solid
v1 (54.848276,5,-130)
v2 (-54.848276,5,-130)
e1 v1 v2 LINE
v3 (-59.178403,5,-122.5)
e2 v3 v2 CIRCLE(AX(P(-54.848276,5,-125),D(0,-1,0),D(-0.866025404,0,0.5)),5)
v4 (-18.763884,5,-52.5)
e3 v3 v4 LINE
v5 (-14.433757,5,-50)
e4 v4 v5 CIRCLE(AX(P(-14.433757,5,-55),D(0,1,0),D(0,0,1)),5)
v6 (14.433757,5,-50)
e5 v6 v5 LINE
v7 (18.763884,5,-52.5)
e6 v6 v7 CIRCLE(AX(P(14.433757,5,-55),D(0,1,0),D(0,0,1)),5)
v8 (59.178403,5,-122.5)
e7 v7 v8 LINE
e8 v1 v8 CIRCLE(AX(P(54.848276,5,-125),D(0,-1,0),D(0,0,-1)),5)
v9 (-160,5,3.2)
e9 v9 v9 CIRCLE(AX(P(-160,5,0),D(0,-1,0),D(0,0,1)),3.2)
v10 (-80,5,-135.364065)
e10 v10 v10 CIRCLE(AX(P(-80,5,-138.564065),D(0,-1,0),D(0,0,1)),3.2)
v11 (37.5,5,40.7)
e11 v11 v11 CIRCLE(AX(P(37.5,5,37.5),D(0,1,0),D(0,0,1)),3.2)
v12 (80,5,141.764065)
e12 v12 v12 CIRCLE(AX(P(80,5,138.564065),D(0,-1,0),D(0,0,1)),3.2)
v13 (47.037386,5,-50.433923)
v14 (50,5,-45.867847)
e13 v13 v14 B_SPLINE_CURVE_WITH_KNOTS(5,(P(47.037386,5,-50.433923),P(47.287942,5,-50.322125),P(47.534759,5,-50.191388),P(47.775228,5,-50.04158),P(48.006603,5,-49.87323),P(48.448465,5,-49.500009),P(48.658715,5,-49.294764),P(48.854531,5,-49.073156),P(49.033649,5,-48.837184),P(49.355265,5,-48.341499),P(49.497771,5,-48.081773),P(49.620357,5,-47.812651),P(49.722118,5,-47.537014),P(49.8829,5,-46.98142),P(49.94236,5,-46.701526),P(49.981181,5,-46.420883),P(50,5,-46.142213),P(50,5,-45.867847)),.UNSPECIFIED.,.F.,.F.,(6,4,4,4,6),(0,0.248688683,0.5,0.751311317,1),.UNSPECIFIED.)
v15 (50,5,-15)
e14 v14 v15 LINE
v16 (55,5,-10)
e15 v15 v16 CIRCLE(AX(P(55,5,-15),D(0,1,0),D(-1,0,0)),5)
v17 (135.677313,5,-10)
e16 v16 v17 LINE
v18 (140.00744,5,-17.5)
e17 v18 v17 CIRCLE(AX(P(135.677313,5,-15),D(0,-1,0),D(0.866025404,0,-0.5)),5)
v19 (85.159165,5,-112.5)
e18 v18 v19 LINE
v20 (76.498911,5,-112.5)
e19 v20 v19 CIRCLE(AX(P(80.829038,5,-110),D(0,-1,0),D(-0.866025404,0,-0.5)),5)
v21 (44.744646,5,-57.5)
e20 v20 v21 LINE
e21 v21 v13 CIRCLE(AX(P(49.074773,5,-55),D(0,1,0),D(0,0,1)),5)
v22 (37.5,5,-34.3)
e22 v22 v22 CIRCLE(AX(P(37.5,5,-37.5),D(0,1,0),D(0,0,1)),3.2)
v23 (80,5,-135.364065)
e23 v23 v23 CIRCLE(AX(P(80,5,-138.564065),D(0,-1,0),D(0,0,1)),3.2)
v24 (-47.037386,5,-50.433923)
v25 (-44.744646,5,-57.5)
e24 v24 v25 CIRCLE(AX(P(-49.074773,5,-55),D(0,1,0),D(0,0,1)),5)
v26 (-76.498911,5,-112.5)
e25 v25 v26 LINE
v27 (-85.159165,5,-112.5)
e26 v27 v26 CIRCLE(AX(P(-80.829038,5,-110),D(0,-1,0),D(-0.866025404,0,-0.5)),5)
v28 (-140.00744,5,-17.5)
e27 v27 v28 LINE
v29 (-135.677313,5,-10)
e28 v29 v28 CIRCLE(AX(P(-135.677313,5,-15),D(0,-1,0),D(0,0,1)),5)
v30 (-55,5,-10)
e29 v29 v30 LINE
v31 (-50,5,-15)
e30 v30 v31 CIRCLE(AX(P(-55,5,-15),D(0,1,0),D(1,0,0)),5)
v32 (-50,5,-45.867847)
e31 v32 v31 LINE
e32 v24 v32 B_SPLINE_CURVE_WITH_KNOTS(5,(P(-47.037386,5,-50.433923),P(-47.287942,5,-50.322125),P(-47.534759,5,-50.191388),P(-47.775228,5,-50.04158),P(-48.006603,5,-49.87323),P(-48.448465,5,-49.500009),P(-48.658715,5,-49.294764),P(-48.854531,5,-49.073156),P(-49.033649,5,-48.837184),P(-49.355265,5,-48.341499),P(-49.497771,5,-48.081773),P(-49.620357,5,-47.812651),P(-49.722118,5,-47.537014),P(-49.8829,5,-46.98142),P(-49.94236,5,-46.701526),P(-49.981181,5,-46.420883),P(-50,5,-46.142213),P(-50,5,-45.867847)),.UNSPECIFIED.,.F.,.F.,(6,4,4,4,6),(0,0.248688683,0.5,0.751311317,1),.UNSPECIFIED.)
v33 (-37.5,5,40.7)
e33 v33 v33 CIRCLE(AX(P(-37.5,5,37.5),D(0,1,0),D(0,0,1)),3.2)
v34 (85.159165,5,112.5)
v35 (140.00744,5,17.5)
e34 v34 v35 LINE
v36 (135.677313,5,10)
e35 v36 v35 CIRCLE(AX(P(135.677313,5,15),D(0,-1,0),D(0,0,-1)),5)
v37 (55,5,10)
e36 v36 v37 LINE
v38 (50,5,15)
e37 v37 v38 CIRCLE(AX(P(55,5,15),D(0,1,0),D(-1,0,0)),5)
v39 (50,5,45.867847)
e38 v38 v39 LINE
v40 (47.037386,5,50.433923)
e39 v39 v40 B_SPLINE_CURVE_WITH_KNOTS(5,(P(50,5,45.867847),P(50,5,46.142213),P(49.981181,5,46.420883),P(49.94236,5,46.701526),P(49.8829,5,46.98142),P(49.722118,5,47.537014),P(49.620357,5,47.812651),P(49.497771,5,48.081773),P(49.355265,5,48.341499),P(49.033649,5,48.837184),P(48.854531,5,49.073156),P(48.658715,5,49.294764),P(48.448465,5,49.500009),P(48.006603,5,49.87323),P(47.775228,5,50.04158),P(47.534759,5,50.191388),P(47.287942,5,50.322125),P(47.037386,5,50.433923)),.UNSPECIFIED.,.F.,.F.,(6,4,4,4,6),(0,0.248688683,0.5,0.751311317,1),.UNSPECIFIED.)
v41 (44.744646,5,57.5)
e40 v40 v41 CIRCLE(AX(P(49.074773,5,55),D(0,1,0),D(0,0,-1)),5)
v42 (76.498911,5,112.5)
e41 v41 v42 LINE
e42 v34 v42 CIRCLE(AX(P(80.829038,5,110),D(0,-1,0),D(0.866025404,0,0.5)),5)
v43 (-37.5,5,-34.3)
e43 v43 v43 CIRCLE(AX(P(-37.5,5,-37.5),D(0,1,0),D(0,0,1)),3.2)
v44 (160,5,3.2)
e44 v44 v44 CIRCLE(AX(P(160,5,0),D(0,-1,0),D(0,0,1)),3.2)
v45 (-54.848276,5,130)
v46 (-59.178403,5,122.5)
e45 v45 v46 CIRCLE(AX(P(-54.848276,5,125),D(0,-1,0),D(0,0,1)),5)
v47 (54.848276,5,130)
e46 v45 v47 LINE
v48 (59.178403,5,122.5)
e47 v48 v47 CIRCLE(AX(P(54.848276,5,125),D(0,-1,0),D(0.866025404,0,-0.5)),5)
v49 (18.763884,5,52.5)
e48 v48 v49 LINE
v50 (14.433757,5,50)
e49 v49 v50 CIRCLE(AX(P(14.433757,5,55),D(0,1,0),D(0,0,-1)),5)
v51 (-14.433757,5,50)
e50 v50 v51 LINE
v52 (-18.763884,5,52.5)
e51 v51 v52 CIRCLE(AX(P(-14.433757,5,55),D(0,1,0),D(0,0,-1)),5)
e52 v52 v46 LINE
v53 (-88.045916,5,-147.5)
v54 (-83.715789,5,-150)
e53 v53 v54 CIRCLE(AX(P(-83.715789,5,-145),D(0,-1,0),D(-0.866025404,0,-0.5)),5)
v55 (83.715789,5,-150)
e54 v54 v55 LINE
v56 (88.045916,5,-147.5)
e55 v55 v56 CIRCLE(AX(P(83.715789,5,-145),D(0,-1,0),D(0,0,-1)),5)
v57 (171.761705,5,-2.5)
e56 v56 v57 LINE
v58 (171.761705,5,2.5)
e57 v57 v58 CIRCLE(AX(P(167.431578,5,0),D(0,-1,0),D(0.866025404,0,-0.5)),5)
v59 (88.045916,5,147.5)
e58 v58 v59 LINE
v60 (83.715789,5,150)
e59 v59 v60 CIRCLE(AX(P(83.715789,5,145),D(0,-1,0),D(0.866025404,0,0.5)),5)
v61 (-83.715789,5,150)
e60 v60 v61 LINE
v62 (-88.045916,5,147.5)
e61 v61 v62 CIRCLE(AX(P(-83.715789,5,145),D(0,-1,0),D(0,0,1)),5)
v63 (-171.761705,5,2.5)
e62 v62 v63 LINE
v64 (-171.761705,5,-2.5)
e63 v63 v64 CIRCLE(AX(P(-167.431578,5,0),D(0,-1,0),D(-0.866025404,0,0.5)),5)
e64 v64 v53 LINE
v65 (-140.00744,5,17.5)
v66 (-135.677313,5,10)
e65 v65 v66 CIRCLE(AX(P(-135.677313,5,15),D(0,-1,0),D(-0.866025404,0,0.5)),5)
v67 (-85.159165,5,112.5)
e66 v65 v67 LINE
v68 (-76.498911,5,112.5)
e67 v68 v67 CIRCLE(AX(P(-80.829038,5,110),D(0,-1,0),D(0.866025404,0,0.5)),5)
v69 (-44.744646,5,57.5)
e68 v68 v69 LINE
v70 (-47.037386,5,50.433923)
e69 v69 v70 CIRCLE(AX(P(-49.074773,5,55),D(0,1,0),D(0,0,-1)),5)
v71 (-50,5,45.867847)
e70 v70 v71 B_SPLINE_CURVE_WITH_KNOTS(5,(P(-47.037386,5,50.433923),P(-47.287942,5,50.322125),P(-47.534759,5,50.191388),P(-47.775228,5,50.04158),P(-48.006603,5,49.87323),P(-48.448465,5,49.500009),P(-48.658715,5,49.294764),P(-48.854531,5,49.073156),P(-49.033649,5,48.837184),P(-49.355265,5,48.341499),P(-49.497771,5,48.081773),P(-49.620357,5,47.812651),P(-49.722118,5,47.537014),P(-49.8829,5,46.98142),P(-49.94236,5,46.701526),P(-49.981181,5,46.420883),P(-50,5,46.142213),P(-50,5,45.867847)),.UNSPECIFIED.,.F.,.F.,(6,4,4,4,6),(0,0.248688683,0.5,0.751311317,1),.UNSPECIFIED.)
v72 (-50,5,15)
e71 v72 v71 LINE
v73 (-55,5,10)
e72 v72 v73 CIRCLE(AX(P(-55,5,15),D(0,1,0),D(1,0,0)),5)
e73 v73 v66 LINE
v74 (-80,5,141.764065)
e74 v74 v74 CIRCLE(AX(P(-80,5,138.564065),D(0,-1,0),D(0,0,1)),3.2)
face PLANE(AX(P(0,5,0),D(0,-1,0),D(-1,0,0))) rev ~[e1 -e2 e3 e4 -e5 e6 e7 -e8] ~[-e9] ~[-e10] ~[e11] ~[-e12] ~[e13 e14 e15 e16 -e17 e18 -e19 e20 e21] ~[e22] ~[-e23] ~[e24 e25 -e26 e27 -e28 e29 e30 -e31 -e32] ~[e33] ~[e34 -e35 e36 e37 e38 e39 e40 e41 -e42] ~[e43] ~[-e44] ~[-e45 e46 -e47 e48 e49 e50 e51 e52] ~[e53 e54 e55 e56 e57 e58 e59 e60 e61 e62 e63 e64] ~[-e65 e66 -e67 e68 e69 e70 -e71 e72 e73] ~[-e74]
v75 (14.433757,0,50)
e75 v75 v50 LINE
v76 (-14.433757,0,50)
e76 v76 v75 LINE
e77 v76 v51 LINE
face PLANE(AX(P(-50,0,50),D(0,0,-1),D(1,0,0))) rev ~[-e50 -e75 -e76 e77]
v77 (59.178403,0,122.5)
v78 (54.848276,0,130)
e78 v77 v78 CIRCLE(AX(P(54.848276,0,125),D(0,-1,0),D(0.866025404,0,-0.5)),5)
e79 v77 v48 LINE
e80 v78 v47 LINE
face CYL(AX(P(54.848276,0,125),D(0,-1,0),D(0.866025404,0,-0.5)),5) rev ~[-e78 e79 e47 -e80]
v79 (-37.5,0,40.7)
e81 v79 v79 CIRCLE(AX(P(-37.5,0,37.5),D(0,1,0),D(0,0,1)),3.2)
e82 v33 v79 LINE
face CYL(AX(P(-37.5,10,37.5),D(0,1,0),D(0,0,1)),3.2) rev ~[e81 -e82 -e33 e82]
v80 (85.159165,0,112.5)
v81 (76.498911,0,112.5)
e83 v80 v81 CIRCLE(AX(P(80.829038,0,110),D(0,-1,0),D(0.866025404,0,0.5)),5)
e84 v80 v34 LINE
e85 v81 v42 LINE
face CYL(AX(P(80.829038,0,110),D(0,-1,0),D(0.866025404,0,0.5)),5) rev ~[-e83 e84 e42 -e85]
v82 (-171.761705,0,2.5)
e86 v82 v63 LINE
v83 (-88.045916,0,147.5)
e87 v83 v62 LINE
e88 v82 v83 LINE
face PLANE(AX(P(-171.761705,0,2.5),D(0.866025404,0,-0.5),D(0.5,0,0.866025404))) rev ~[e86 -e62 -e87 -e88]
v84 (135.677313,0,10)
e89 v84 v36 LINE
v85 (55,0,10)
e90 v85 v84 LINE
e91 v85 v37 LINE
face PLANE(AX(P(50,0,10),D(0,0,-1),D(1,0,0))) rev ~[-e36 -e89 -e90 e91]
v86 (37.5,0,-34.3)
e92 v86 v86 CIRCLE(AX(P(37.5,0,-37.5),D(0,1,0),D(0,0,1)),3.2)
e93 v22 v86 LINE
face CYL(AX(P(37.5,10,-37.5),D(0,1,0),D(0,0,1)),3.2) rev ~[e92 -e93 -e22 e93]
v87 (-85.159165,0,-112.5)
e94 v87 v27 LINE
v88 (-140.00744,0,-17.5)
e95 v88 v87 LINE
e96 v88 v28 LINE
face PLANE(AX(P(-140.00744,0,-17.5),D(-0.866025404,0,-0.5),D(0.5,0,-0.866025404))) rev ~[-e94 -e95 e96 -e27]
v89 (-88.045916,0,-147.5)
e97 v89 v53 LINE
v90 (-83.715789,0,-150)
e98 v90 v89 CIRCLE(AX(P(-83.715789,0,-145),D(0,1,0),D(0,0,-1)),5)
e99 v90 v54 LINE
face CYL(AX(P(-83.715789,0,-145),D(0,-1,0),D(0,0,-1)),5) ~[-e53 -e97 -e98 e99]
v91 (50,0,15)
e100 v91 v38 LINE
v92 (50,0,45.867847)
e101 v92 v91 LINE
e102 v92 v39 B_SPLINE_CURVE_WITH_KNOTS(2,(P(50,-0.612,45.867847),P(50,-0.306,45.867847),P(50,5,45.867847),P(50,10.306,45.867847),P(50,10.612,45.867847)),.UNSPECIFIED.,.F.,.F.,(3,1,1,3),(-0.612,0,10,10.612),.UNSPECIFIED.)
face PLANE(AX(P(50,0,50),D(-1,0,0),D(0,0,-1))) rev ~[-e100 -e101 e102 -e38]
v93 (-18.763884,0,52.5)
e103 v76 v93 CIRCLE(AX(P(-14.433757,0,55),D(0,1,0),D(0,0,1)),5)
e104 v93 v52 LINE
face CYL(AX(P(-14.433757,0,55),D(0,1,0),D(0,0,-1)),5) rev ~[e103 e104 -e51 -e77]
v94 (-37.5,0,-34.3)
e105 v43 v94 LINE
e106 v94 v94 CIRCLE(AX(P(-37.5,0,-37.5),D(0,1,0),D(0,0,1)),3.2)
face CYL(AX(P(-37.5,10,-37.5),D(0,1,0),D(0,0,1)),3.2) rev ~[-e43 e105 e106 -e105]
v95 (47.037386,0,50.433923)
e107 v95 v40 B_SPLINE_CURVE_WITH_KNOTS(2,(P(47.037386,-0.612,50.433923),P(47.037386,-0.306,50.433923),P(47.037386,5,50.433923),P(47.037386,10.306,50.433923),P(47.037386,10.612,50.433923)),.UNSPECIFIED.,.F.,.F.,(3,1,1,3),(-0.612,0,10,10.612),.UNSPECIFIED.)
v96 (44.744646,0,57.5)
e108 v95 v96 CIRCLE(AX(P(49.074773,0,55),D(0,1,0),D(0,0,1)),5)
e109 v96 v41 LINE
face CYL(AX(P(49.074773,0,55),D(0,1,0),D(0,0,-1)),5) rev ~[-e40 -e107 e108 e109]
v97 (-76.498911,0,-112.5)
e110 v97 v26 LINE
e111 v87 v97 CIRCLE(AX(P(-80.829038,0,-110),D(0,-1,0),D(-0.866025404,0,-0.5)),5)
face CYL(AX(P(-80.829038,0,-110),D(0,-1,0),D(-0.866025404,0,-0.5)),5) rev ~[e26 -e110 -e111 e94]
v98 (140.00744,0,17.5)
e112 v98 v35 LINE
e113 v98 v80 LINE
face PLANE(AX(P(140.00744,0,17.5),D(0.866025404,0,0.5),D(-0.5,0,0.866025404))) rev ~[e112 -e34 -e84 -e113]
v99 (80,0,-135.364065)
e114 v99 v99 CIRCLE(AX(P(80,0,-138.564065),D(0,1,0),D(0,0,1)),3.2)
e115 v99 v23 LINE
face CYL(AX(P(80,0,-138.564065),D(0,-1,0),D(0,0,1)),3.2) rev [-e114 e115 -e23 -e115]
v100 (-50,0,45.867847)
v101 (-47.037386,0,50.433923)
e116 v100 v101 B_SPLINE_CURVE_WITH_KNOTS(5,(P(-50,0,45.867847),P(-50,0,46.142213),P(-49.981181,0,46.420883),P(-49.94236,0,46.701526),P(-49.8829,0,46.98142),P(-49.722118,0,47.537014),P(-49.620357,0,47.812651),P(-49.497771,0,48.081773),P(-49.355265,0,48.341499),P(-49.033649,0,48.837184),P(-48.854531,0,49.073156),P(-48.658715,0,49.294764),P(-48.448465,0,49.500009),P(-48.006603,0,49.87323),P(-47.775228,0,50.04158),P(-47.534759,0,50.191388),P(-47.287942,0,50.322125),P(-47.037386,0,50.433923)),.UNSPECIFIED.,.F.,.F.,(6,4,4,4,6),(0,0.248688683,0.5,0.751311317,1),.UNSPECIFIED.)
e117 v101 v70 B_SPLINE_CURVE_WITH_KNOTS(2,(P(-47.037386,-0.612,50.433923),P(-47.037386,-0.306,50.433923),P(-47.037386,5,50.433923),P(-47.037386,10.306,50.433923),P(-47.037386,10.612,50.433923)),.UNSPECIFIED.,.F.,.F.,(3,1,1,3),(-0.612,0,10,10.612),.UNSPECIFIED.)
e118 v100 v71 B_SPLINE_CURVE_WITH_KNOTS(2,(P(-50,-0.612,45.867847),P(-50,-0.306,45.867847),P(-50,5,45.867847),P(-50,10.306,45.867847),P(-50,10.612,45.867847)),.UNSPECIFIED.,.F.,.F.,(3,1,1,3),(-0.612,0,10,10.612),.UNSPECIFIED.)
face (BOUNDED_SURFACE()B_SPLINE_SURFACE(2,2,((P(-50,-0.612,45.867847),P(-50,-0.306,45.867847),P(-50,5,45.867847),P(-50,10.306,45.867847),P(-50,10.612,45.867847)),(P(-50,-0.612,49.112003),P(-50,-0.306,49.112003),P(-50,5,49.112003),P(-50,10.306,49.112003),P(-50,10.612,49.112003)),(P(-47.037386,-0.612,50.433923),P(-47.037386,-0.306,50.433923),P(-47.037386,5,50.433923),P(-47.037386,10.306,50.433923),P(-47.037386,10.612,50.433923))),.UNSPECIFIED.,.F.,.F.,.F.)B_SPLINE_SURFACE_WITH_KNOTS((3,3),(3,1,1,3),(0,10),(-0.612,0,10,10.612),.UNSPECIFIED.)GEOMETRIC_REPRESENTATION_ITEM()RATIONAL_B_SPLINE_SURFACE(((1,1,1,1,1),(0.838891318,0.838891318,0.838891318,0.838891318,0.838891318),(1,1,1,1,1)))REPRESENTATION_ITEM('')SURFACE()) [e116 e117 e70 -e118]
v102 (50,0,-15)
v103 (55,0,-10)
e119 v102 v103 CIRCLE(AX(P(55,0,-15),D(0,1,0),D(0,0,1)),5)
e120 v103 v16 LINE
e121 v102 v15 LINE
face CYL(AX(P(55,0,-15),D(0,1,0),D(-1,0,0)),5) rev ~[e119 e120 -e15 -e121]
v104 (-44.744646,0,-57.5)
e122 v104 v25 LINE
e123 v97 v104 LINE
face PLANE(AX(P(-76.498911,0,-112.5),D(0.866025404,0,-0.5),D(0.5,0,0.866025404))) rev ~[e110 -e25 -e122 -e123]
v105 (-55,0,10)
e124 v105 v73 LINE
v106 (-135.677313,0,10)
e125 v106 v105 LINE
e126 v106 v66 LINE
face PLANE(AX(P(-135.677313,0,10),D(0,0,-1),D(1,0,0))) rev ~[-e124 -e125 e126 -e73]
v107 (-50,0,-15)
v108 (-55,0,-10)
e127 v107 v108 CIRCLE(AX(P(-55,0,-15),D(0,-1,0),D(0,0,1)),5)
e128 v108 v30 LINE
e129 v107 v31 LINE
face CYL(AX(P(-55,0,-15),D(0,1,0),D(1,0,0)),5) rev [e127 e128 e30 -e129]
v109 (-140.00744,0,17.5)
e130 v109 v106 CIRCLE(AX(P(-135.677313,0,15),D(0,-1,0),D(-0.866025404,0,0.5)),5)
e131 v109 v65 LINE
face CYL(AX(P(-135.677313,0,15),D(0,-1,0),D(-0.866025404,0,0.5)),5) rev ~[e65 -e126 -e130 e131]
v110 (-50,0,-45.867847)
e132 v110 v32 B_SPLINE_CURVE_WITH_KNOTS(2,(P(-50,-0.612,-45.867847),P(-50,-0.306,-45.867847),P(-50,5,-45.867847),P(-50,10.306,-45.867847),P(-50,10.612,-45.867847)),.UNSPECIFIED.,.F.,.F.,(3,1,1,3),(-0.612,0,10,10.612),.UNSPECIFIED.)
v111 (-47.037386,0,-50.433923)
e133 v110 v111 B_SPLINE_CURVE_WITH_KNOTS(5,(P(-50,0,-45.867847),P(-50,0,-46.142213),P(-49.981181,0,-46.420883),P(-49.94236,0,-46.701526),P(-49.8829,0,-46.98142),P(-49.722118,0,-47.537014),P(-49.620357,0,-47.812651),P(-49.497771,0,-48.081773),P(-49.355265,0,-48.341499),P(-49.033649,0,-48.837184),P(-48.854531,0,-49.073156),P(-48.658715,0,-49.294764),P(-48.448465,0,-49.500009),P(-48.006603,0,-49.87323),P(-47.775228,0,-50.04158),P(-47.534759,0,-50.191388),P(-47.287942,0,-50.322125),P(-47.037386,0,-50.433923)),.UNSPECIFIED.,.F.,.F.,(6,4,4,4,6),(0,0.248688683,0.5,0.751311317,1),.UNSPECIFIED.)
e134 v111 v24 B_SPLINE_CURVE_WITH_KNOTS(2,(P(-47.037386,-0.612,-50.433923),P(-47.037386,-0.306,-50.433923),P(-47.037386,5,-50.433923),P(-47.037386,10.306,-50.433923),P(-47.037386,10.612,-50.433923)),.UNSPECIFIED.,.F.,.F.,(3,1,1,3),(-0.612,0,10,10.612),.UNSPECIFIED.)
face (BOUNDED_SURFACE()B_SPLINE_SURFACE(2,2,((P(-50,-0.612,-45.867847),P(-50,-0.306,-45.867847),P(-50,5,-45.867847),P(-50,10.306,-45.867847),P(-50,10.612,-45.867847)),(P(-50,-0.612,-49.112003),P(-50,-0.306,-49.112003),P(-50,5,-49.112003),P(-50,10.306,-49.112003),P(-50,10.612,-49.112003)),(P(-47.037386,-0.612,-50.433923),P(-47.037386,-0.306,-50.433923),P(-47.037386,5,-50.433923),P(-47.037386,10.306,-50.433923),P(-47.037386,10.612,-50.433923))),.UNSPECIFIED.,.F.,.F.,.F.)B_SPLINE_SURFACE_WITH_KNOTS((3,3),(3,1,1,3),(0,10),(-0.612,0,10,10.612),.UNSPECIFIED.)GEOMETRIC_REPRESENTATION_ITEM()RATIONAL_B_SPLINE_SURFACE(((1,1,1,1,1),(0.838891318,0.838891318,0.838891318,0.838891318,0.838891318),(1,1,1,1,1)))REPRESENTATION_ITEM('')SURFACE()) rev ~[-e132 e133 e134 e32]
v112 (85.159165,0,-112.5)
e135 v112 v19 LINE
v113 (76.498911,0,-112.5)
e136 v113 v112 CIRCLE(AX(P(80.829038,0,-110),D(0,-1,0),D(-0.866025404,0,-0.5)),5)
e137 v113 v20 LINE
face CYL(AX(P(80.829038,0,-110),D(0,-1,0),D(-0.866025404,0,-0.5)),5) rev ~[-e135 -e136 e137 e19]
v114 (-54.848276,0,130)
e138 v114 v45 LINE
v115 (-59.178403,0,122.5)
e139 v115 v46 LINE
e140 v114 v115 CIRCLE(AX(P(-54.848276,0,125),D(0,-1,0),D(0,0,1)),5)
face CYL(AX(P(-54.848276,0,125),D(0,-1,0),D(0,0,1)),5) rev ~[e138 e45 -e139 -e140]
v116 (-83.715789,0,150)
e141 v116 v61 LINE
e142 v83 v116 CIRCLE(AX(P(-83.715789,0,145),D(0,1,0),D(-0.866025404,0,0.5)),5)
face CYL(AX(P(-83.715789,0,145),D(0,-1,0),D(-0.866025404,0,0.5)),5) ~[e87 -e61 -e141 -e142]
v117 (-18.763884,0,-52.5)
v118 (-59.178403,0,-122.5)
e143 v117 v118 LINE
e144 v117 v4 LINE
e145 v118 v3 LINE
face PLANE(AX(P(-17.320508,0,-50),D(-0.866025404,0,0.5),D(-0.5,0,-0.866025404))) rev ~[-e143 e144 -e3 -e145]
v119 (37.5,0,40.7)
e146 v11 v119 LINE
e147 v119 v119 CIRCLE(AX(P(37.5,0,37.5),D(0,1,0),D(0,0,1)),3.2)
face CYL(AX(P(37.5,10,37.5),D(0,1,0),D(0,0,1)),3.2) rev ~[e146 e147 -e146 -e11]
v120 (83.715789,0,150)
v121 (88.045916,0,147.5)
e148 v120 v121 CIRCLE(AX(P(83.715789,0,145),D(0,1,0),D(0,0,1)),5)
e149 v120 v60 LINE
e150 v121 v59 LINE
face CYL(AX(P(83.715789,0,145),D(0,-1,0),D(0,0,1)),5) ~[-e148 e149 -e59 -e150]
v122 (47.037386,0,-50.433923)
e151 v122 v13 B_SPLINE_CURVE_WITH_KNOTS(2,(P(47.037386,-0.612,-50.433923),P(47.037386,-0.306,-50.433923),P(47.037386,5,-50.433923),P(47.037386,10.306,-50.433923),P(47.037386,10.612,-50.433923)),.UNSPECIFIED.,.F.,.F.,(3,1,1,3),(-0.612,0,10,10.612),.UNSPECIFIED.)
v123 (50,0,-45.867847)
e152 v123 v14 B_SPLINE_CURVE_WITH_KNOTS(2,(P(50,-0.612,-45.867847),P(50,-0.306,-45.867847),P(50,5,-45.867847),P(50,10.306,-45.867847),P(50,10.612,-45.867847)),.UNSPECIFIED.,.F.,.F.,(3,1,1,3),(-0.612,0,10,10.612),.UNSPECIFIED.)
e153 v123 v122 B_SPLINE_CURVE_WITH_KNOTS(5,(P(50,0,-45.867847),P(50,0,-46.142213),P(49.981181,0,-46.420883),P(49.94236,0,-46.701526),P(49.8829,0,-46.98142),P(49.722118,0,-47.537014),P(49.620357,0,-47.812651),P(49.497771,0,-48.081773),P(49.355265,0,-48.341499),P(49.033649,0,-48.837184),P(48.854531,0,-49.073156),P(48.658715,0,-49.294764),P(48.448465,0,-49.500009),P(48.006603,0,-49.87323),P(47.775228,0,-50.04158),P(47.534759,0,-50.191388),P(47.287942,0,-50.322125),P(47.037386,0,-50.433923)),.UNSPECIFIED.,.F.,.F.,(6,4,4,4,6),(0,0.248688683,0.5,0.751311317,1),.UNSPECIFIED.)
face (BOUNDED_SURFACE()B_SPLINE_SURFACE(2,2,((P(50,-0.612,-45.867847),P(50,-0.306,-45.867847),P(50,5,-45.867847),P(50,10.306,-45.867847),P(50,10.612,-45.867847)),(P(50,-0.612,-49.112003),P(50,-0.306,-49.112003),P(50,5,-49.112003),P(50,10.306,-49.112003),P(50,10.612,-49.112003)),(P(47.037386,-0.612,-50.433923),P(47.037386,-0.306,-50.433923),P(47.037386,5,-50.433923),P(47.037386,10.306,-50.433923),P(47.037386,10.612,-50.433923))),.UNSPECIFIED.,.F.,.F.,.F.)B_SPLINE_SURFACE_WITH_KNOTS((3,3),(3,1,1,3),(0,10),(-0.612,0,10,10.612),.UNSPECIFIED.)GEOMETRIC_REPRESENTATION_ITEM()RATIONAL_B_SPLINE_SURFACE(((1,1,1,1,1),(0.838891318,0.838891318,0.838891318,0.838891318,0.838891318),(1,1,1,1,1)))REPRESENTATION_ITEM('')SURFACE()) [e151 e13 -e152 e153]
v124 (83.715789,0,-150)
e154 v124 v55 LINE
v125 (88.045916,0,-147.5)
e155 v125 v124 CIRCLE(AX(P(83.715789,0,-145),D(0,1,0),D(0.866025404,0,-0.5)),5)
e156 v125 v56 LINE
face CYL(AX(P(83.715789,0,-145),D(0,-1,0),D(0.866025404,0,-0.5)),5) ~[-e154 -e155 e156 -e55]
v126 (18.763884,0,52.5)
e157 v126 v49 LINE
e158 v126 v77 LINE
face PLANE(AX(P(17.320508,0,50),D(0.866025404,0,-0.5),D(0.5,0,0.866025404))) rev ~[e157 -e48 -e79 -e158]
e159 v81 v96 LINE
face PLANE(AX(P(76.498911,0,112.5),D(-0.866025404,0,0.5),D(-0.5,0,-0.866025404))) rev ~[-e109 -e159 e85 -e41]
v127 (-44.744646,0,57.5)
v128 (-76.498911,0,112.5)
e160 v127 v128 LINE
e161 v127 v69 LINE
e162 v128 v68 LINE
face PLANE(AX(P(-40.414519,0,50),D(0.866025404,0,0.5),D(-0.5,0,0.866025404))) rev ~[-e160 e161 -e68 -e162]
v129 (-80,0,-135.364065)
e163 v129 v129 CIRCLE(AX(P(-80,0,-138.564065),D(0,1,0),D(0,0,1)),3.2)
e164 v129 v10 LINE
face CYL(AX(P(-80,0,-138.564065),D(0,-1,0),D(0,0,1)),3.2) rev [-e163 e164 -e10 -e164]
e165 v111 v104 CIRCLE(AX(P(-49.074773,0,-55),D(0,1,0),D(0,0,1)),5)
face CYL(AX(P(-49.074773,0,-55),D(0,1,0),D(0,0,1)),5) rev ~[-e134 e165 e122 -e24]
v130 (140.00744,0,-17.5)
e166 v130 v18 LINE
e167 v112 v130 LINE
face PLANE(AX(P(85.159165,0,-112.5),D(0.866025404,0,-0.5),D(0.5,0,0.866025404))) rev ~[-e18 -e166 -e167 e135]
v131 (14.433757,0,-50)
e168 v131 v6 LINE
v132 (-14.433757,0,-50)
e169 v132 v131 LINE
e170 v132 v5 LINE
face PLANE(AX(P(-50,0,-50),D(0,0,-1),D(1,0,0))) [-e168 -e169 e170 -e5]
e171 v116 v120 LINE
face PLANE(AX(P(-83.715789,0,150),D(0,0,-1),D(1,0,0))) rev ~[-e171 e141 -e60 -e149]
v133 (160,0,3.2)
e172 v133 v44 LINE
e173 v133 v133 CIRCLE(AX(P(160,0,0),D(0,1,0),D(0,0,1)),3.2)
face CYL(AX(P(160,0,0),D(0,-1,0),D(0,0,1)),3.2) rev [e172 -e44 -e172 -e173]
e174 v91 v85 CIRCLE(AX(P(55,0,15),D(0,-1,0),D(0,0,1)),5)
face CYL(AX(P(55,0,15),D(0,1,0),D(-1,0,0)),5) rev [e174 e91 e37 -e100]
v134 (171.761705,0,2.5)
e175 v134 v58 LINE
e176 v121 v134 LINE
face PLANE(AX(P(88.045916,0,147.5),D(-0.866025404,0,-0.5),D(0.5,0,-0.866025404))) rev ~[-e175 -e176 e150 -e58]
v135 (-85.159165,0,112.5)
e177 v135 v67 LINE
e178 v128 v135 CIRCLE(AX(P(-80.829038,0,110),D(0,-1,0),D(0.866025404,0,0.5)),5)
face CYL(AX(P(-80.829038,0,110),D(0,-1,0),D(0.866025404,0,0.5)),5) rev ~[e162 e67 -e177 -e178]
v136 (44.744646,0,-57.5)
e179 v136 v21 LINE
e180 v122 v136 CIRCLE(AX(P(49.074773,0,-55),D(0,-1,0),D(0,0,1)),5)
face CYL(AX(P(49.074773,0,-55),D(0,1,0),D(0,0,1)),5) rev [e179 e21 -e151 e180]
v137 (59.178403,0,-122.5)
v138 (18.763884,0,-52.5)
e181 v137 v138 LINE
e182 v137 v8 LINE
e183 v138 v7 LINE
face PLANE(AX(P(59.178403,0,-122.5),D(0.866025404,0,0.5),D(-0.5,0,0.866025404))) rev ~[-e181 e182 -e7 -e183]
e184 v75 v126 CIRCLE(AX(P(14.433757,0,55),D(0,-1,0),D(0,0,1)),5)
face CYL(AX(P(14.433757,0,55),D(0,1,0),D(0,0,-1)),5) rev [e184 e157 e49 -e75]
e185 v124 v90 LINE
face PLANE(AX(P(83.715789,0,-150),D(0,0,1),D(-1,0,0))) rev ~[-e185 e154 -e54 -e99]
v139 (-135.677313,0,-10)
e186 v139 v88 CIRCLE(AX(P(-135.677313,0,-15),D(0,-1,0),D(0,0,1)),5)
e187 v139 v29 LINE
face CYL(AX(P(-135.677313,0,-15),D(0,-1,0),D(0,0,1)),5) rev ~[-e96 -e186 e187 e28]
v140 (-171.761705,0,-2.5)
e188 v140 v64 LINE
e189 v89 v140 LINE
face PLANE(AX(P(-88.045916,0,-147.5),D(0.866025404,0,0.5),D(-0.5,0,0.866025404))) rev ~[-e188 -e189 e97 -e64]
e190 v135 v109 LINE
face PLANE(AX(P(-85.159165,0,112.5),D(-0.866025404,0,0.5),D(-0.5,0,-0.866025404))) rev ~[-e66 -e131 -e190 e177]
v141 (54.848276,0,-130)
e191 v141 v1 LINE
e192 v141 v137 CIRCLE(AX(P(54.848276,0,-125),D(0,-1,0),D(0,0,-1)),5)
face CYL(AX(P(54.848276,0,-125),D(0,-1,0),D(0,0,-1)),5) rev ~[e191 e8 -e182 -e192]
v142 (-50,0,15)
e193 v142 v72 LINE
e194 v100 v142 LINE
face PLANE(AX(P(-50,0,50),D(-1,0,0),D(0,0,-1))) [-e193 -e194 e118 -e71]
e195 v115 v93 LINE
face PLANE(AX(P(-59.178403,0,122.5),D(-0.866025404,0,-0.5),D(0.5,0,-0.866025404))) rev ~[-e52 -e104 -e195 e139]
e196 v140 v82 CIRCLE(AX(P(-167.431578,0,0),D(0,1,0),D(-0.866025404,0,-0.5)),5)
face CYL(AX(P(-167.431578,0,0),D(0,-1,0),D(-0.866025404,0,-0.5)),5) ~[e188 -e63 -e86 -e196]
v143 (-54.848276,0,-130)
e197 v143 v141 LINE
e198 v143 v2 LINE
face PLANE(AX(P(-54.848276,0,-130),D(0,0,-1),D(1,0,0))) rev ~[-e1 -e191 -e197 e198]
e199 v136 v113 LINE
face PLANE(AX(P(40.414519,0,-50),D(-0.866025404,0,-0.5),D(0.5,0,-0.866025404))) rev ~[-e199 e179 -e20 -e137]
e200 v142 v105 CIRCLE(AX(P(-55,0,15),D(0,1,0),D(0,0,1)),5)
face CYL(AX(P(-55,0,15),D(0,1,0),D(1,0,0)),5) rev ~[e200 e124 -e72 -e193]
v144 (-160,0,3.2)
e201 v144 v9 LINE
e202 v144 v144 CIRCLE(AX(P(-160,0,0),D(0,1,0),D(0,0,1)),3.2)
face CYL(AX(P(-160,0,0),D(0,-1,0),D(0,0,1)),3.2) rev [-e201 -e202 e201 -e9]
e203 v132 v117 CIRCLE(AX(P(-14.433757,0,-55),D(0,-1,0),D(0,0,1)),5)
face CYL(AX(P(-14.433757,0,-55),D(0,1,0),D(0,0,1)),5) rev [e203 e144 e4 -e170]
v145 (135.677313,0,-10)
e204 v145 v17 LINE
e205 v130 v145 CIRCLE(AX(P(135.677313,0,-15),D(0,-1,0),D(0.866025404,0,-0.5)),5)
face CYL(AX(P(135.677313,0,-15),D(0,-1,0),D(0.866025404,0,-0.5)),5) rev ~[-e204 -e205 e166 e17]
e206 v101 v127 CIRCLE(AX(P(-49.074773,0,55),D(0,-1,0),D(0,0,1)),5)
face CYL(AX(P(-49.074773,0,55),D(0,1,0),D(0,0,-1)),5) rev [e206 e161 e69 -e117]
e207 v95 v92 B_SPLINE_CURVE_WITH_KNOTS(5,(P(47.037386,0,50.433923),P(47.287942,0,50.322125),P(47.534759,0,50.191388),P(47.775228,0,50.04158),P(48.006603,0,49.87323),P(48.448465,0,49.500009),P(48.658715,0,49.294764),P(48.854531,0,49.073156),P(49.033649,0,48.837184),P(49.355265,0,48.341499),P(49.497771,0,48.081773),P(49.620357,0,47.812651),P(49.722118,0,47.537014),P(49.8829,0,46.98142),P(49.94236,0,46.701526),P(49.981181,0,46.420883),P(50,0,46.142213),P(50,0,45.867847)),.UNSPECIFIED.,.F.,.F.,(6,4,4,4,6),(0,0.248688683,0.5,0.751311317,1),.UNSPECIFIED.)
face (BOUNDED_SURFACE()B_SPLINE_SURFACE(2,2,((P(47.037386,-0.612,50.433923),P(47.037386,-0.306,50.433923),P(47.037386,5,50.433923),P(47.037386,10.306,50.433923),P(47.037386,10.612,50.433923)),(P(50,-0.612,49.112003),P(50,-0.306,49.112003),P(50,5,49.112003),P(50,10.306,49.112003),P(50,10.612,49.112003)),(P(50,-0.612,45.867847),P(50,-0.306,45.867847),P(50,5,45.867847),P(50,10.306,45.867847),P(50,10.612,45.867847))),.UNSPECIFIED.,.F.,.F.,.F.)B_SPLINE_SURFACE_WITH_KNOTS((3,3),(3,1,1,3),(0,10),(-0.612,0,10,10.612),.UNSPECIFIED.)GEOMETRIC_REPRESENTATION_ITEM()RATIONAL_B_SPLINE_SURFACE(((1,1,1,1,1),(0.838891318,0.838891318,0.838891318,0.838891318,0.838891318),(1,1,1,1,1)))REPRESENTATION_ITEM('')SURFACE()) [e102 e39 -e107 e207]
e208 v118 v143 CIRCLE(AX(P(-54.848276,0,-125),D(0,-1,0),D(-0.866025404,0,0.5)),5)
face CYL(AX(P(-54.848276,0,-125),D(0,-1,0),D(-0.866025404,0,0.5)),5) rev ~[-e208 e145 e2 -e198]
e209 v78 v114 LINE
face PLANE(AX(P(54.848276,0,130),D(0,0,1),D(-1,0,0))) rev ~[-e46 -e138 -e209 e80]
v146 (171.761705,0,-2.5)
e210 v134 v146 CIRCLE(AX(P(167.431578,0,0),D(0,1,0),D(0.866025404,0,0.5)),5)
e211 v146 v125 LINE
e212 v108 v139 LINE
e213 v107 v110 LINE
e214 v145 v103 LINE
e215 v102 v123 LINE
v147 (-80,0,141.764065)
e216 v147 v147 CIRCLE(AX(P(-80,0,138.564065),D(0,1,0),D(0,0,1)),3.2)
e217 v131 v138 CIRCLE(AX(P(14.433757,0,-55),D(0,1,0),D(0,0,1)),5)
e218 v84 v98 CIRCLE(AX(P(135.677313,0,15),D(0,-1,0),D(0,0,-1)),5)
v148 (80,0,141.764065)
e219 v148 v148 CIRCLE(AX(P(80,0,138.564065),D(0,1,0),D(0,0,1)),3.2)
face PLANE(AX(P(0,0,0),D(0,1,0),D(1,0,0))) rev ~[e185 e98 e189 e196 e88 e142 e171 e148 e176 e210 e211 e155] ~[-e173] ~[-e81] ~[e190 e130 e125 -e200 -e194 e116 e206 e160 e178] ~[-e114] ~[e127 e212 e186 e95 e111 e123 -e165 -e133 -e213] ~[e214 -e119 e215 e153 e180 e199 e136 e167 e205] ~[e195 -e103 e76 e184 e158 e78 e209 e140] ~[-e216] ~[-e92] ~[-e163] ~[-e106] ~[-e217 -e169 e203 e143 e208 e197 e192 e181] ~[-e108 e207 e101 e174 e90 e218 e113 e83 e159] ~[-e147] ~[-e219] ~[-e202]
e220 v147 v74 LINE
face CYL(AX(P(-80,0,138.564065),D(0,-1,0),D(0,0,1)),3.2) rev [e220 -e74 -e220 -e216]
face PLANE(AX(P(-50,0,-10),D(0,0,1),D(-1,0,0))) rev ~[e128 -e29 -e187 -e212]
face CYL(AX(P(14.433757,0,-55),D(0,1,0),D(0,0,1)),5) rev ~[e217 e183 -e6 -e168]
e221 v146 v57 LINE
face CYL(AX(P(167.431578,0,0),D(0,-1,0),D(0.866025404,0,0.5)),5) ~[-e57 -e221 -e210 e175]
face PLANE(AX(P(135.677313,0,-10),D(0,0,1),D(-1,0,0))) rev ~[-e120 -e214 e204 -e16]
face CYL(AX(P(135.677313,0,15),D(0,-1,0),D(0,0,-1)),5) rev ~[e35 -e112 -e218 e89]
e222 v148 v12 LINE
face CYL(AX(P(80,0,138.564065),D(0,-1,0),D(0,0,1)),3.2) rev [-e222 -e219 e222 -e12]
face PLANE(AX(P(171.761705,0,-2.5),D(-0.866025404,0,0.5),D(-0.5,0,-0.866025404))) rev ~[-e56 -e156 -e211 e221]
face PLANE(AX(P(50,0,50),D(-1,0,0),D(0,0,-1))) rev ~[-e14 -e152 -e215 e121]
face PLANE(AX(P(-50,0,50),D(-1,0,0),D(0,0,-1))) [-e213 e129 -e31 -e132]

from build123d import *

# Parameters (mm, degrees)
SKETCH1_R           = 3.2
BOSS_EXTRUDE1_DEPTH = 10
SKETCH2_W           = 100
SKETCH2_H           = 100
BOSS_EXTRUDE2_DEPTH = 10
FILLET1_R           = 5
FILLET2_R           = 5
SKETCH3_R           = 3.2
CUT_EXTRUDE2_DEPTH  = 10
CUT_EXTRUDE3_START  = -5
CUT_EXTRUDE3_DEPTH  = 5


with BuildPart() as part:
    # Sketch1 → Boss-Extrude1 (new body)
    with BuildSketch(Plane(origin=(0, 0, 0), x_dir=(1, 0, 0), z_dir=(0, 1, 0))):
        with BuildLine():
            ThreePointArc((171.761705084, -2.5), (172.431578065, 0), (171.761705084, 2.5))
            Line((171.761705084, 2.5), (88.045916051, 147.5))
            ThreePointArc((88.045916051, 147.5), (86.215789032, 149.330127019), (83.715789032, 150))
            Line((83.715789032, 150), (-83.715789032, 150))
            ThreePointArc((-83.715789032, 150), (-86.215789032, 149.330127019), (-88.045916051, 147.5))
            Line((-88.045916051, 147.5), (-171.761705084, 2.5))
            ThreePointArc((-171.761705084, 2.5), (-172.431578065, 0), (-171.761705084, -2.5))
            Line((-171.761705084, -2.5), (-88.045916051, -147.5))
            ThreePointArc((-88.045916051, -147.5), (-86.215789032, -149.330127019), (-83.715789032, -150))
            Line((-83.715789032, -150), (83.715789032, -150))
            ThreePointArc((83.715789032, -150), (86.215789032, -149.330127019), (88.045916051, -147.5))
            Line((88.045916051, -147.5), (171.761705084, -2.5))
        make_face()
        with Locations((-80, -138.564064606)):
            Circle(SKETCH1_R, mode=Mode.SUBTRACT)
        with Locations((80, -138.564064606)):
            Circle(SKETCH1_R, mode=Mode.SUBTRACT)
        with Locations((-160, 0)):
            Circle(SKETCH1_R, mode=Mode.SUBTRACT)
        with Locations((-80, 138.564064606)):
            Circle(SKETCH1_R, mode=Mode.SUBTRACT)
        with BuildLine():
            ThreePointArc((-85.159164705, 112.5), (-80.829037687, 115), (-76.498910668, 112.5))
            Line((-76.498910668, 112.5), (-40.414518843, 50))
            Line((-40.414518843, 50), (-17.320508076, 50))
            Line((-17.320508076, 50), (-59.178402592, 122.5))
            ThreePointArc((-59.178402592, 122.5), (-59.178402592, 127.5), (-54.848275573, 130))
            Line((-54.848275573, 130), (54.848275573, 130))
            ThreePointArc((54.848275573, 130), (59.178402592, 127.5), (59.178402592, 122.5))
            Line((59.178402592, 122.5), (17.320508076, 50))
            Line((17.320508076, 50), (40.414518843, 50))
            Line((40.414518843, 50), (76.498910668, 112.5))
            ThreePointArc((76.498910668, 112.5), (80.829037687, 115), (85.159164705, 112.5))
            Line((85.159164705, 112.5), (140.007440278, 17.5))
            ThreePointArc((140.007440278, 17.5), (140.007440278, 12.5), (135.67731326, 10))
            Line((135.67731326, 10), (50, 10))
            Line((50, 10), (50, -10))
            Line((50, -10), (135.67731326, -10))
            ThreePointArc((135.67731326, -10), (140.007440278, -12.5), (140.007440278, -17.5))
            Line((140.007440278, -17.5), (85.159164705, -112.5))
            ThreePointArc((85.159164705, -112.5), (80.829037687, -115), (76.498910668, -112.5))
            Line((76.498910668, -112.5), (40.414518843, -50))
            Line((40.414518843, -50), (17.320508076, -50))
            Line((17.320508076, -50), (59.178402592, -122.5))
            ThreePointArc((59.178402592, -122.5), (59.178402592, -127.5), (54.848275573, -130))
            Line((54.848275573, -130), (-54.848275573, -130))
            ThreePointArc((-54.848275573, -130), (-59.178402592, -127.5), (-59.178402592, -122.5))
            Line((-59.178402592, -122.5), (-17.320508076, -50))
            Line((-17.320508076, -50), (-40.414518843, -50))
            Line((-40.414518843, -50), (-76.498910668, -112.5))
            ThreePointArc((-76.498910668, -112.5), (-80.829037687, -115), (-85.159164705, -112.5))
            Line((-85.159164705, -112.5), (-140.007440278, -17.5))
            ThreePointArc((-140.007440278, -17.5), (-140.007440278, -12.5), (-135.67731326, -10))
            Line((-135.67731326, -10), (-50, -10))
            Line((-50, -10), (-50, 10))
            Line((-50, 10), (-135.67731326, 10))
            ThreePointArc((-135.67731326, 10), (-140.007440278, 12.5), (-140.007440278, 17.5))
            Line((-140.007440278, 17.5), (-85.159164705, 112.5))
        make_face(mode=Mode.SUBTRACT)
        with Locations((160, 0)):
            Circle(SKETCH1_R, mode=Mode.SUBTRACT)
        with Locations((80, 138.564064606)):
            Circle(SKETCH1_R, mode=Mode.SUBTRACT)
    extrude(amount=BOSS_EXTRUDE1_DEPTH)

    # Sketch2 → Boss-Extrude2 (add)
    with BuildSketch(Plane(origin=(0, 0, 0), x_dir=(1, 0, 0), z_dir=(0, 1, 0))):
        Rectangle(SKETCH2_W, SKETCH2_H)
    extrude(amount=BOSS_EXTRUDE2_DEPTH)

    # Fillet1
    fillet1_edges = [part.edges().sort_by_distance(p)[0] for p in [
        (-17.320508076, 5, -50),
        (17.320508076, 5, -50),
        (40.414518843, 5, -50),
        (50, 5, -10),
        (50, 5, 10),
        (40.414518843, 5, 50),
        (-17.320508076, 5, 50),
        (17.320508076, 5, 50),
        (-40.414518843, 5, -50),
        (-50, 5, -10),
        (-50, 5, 10),
        (-40.414518843, 5, 50),
    ]]
    fillet(fillet1_edges, radius=FILLET1_R)

    # Fillet2
    fillet2_edges = [part.edges().sort_by_distance(p)[0] for p in [
        (-50, 5, -50),
        (-50, 5, 50),
        (50, 5, 50),
        (50, 5, -50),
    ]]
    fillet(fillet2_edges, radius=FILLET2_R)

    # Sketch3 → Cut-Extrude2 (cut)
    with BuildSketch(Plane(origin=(0, 10, 0), x_dir=(1, 0, 0), z_dir=(0, 1, 0))):
        with Locations((-37.5, 37.5)):
            Circle(SKETCH3_R)
        with Locations((37.5, 37.5)):
            Circle(SKETCH3_R)
        with Locations((37.5, -37.5)):
            Circle(SKETCH3_R)
        with Locations((-37.5, -37.5)):
            Circle(SKETCH3_R)
    extrude(amount=-CUT_EXTRUDE2_DEPTH, mode=Mode.SUBTRACT)

    # Sketch6 → Cut-Extrude3 (cut)
    with BuildSketch(Plane(origin=(0, 10, 0), x_dir=(1, 0, 0), z_dir=(0, 1, 0)).offset(CUT_EXTRUDE3_START)):
        with BuildLine():
            Line((88.045916051, 147.5), (171.761705084, 2.5))
            ThreePointArc((171.761705084, 2.5), (172.431578065, 0), (171.761705084, -2.5))
            Line((171.761705084, -2.5), (88.045916051, -147.5))
            ThreePointArc((88.045916051, -147.5), (86.215789032, -149.330127019), (83.715789032, -150))
            Line((83.715789032, -150), (-83.715789032, -150))
            ThreePointArc((-83.715789032, -150), (-86.215789032, -149.330127019), (-88.045916051, -147.5))
            Line((-88.045916051, -147.5), (-171.761705084, -2.5))
            ThreePointArc((-171.761705084, -2.5), (-172.431578065, 0), (-171.761705084, 2.5))
            Line((-171.761705084, 2.5), (-88.045916051, 147.5))
            ThreePointArc((-88.045916051, 147.5), (-86.215789032, 149.330127019), (-83.715789032, 150))
            Line((-83.715789032, 150), (83.715789032, 150))
            ThreePointArc((83.715789032, 150), (86.215789032, 149.330127019), (88.045916051, 147.5))
        make_face()
    extrude(amount=CUT_EXTRUDE3_DEPTH, mode=Mode.SUBTRACT)


solid = part.part
